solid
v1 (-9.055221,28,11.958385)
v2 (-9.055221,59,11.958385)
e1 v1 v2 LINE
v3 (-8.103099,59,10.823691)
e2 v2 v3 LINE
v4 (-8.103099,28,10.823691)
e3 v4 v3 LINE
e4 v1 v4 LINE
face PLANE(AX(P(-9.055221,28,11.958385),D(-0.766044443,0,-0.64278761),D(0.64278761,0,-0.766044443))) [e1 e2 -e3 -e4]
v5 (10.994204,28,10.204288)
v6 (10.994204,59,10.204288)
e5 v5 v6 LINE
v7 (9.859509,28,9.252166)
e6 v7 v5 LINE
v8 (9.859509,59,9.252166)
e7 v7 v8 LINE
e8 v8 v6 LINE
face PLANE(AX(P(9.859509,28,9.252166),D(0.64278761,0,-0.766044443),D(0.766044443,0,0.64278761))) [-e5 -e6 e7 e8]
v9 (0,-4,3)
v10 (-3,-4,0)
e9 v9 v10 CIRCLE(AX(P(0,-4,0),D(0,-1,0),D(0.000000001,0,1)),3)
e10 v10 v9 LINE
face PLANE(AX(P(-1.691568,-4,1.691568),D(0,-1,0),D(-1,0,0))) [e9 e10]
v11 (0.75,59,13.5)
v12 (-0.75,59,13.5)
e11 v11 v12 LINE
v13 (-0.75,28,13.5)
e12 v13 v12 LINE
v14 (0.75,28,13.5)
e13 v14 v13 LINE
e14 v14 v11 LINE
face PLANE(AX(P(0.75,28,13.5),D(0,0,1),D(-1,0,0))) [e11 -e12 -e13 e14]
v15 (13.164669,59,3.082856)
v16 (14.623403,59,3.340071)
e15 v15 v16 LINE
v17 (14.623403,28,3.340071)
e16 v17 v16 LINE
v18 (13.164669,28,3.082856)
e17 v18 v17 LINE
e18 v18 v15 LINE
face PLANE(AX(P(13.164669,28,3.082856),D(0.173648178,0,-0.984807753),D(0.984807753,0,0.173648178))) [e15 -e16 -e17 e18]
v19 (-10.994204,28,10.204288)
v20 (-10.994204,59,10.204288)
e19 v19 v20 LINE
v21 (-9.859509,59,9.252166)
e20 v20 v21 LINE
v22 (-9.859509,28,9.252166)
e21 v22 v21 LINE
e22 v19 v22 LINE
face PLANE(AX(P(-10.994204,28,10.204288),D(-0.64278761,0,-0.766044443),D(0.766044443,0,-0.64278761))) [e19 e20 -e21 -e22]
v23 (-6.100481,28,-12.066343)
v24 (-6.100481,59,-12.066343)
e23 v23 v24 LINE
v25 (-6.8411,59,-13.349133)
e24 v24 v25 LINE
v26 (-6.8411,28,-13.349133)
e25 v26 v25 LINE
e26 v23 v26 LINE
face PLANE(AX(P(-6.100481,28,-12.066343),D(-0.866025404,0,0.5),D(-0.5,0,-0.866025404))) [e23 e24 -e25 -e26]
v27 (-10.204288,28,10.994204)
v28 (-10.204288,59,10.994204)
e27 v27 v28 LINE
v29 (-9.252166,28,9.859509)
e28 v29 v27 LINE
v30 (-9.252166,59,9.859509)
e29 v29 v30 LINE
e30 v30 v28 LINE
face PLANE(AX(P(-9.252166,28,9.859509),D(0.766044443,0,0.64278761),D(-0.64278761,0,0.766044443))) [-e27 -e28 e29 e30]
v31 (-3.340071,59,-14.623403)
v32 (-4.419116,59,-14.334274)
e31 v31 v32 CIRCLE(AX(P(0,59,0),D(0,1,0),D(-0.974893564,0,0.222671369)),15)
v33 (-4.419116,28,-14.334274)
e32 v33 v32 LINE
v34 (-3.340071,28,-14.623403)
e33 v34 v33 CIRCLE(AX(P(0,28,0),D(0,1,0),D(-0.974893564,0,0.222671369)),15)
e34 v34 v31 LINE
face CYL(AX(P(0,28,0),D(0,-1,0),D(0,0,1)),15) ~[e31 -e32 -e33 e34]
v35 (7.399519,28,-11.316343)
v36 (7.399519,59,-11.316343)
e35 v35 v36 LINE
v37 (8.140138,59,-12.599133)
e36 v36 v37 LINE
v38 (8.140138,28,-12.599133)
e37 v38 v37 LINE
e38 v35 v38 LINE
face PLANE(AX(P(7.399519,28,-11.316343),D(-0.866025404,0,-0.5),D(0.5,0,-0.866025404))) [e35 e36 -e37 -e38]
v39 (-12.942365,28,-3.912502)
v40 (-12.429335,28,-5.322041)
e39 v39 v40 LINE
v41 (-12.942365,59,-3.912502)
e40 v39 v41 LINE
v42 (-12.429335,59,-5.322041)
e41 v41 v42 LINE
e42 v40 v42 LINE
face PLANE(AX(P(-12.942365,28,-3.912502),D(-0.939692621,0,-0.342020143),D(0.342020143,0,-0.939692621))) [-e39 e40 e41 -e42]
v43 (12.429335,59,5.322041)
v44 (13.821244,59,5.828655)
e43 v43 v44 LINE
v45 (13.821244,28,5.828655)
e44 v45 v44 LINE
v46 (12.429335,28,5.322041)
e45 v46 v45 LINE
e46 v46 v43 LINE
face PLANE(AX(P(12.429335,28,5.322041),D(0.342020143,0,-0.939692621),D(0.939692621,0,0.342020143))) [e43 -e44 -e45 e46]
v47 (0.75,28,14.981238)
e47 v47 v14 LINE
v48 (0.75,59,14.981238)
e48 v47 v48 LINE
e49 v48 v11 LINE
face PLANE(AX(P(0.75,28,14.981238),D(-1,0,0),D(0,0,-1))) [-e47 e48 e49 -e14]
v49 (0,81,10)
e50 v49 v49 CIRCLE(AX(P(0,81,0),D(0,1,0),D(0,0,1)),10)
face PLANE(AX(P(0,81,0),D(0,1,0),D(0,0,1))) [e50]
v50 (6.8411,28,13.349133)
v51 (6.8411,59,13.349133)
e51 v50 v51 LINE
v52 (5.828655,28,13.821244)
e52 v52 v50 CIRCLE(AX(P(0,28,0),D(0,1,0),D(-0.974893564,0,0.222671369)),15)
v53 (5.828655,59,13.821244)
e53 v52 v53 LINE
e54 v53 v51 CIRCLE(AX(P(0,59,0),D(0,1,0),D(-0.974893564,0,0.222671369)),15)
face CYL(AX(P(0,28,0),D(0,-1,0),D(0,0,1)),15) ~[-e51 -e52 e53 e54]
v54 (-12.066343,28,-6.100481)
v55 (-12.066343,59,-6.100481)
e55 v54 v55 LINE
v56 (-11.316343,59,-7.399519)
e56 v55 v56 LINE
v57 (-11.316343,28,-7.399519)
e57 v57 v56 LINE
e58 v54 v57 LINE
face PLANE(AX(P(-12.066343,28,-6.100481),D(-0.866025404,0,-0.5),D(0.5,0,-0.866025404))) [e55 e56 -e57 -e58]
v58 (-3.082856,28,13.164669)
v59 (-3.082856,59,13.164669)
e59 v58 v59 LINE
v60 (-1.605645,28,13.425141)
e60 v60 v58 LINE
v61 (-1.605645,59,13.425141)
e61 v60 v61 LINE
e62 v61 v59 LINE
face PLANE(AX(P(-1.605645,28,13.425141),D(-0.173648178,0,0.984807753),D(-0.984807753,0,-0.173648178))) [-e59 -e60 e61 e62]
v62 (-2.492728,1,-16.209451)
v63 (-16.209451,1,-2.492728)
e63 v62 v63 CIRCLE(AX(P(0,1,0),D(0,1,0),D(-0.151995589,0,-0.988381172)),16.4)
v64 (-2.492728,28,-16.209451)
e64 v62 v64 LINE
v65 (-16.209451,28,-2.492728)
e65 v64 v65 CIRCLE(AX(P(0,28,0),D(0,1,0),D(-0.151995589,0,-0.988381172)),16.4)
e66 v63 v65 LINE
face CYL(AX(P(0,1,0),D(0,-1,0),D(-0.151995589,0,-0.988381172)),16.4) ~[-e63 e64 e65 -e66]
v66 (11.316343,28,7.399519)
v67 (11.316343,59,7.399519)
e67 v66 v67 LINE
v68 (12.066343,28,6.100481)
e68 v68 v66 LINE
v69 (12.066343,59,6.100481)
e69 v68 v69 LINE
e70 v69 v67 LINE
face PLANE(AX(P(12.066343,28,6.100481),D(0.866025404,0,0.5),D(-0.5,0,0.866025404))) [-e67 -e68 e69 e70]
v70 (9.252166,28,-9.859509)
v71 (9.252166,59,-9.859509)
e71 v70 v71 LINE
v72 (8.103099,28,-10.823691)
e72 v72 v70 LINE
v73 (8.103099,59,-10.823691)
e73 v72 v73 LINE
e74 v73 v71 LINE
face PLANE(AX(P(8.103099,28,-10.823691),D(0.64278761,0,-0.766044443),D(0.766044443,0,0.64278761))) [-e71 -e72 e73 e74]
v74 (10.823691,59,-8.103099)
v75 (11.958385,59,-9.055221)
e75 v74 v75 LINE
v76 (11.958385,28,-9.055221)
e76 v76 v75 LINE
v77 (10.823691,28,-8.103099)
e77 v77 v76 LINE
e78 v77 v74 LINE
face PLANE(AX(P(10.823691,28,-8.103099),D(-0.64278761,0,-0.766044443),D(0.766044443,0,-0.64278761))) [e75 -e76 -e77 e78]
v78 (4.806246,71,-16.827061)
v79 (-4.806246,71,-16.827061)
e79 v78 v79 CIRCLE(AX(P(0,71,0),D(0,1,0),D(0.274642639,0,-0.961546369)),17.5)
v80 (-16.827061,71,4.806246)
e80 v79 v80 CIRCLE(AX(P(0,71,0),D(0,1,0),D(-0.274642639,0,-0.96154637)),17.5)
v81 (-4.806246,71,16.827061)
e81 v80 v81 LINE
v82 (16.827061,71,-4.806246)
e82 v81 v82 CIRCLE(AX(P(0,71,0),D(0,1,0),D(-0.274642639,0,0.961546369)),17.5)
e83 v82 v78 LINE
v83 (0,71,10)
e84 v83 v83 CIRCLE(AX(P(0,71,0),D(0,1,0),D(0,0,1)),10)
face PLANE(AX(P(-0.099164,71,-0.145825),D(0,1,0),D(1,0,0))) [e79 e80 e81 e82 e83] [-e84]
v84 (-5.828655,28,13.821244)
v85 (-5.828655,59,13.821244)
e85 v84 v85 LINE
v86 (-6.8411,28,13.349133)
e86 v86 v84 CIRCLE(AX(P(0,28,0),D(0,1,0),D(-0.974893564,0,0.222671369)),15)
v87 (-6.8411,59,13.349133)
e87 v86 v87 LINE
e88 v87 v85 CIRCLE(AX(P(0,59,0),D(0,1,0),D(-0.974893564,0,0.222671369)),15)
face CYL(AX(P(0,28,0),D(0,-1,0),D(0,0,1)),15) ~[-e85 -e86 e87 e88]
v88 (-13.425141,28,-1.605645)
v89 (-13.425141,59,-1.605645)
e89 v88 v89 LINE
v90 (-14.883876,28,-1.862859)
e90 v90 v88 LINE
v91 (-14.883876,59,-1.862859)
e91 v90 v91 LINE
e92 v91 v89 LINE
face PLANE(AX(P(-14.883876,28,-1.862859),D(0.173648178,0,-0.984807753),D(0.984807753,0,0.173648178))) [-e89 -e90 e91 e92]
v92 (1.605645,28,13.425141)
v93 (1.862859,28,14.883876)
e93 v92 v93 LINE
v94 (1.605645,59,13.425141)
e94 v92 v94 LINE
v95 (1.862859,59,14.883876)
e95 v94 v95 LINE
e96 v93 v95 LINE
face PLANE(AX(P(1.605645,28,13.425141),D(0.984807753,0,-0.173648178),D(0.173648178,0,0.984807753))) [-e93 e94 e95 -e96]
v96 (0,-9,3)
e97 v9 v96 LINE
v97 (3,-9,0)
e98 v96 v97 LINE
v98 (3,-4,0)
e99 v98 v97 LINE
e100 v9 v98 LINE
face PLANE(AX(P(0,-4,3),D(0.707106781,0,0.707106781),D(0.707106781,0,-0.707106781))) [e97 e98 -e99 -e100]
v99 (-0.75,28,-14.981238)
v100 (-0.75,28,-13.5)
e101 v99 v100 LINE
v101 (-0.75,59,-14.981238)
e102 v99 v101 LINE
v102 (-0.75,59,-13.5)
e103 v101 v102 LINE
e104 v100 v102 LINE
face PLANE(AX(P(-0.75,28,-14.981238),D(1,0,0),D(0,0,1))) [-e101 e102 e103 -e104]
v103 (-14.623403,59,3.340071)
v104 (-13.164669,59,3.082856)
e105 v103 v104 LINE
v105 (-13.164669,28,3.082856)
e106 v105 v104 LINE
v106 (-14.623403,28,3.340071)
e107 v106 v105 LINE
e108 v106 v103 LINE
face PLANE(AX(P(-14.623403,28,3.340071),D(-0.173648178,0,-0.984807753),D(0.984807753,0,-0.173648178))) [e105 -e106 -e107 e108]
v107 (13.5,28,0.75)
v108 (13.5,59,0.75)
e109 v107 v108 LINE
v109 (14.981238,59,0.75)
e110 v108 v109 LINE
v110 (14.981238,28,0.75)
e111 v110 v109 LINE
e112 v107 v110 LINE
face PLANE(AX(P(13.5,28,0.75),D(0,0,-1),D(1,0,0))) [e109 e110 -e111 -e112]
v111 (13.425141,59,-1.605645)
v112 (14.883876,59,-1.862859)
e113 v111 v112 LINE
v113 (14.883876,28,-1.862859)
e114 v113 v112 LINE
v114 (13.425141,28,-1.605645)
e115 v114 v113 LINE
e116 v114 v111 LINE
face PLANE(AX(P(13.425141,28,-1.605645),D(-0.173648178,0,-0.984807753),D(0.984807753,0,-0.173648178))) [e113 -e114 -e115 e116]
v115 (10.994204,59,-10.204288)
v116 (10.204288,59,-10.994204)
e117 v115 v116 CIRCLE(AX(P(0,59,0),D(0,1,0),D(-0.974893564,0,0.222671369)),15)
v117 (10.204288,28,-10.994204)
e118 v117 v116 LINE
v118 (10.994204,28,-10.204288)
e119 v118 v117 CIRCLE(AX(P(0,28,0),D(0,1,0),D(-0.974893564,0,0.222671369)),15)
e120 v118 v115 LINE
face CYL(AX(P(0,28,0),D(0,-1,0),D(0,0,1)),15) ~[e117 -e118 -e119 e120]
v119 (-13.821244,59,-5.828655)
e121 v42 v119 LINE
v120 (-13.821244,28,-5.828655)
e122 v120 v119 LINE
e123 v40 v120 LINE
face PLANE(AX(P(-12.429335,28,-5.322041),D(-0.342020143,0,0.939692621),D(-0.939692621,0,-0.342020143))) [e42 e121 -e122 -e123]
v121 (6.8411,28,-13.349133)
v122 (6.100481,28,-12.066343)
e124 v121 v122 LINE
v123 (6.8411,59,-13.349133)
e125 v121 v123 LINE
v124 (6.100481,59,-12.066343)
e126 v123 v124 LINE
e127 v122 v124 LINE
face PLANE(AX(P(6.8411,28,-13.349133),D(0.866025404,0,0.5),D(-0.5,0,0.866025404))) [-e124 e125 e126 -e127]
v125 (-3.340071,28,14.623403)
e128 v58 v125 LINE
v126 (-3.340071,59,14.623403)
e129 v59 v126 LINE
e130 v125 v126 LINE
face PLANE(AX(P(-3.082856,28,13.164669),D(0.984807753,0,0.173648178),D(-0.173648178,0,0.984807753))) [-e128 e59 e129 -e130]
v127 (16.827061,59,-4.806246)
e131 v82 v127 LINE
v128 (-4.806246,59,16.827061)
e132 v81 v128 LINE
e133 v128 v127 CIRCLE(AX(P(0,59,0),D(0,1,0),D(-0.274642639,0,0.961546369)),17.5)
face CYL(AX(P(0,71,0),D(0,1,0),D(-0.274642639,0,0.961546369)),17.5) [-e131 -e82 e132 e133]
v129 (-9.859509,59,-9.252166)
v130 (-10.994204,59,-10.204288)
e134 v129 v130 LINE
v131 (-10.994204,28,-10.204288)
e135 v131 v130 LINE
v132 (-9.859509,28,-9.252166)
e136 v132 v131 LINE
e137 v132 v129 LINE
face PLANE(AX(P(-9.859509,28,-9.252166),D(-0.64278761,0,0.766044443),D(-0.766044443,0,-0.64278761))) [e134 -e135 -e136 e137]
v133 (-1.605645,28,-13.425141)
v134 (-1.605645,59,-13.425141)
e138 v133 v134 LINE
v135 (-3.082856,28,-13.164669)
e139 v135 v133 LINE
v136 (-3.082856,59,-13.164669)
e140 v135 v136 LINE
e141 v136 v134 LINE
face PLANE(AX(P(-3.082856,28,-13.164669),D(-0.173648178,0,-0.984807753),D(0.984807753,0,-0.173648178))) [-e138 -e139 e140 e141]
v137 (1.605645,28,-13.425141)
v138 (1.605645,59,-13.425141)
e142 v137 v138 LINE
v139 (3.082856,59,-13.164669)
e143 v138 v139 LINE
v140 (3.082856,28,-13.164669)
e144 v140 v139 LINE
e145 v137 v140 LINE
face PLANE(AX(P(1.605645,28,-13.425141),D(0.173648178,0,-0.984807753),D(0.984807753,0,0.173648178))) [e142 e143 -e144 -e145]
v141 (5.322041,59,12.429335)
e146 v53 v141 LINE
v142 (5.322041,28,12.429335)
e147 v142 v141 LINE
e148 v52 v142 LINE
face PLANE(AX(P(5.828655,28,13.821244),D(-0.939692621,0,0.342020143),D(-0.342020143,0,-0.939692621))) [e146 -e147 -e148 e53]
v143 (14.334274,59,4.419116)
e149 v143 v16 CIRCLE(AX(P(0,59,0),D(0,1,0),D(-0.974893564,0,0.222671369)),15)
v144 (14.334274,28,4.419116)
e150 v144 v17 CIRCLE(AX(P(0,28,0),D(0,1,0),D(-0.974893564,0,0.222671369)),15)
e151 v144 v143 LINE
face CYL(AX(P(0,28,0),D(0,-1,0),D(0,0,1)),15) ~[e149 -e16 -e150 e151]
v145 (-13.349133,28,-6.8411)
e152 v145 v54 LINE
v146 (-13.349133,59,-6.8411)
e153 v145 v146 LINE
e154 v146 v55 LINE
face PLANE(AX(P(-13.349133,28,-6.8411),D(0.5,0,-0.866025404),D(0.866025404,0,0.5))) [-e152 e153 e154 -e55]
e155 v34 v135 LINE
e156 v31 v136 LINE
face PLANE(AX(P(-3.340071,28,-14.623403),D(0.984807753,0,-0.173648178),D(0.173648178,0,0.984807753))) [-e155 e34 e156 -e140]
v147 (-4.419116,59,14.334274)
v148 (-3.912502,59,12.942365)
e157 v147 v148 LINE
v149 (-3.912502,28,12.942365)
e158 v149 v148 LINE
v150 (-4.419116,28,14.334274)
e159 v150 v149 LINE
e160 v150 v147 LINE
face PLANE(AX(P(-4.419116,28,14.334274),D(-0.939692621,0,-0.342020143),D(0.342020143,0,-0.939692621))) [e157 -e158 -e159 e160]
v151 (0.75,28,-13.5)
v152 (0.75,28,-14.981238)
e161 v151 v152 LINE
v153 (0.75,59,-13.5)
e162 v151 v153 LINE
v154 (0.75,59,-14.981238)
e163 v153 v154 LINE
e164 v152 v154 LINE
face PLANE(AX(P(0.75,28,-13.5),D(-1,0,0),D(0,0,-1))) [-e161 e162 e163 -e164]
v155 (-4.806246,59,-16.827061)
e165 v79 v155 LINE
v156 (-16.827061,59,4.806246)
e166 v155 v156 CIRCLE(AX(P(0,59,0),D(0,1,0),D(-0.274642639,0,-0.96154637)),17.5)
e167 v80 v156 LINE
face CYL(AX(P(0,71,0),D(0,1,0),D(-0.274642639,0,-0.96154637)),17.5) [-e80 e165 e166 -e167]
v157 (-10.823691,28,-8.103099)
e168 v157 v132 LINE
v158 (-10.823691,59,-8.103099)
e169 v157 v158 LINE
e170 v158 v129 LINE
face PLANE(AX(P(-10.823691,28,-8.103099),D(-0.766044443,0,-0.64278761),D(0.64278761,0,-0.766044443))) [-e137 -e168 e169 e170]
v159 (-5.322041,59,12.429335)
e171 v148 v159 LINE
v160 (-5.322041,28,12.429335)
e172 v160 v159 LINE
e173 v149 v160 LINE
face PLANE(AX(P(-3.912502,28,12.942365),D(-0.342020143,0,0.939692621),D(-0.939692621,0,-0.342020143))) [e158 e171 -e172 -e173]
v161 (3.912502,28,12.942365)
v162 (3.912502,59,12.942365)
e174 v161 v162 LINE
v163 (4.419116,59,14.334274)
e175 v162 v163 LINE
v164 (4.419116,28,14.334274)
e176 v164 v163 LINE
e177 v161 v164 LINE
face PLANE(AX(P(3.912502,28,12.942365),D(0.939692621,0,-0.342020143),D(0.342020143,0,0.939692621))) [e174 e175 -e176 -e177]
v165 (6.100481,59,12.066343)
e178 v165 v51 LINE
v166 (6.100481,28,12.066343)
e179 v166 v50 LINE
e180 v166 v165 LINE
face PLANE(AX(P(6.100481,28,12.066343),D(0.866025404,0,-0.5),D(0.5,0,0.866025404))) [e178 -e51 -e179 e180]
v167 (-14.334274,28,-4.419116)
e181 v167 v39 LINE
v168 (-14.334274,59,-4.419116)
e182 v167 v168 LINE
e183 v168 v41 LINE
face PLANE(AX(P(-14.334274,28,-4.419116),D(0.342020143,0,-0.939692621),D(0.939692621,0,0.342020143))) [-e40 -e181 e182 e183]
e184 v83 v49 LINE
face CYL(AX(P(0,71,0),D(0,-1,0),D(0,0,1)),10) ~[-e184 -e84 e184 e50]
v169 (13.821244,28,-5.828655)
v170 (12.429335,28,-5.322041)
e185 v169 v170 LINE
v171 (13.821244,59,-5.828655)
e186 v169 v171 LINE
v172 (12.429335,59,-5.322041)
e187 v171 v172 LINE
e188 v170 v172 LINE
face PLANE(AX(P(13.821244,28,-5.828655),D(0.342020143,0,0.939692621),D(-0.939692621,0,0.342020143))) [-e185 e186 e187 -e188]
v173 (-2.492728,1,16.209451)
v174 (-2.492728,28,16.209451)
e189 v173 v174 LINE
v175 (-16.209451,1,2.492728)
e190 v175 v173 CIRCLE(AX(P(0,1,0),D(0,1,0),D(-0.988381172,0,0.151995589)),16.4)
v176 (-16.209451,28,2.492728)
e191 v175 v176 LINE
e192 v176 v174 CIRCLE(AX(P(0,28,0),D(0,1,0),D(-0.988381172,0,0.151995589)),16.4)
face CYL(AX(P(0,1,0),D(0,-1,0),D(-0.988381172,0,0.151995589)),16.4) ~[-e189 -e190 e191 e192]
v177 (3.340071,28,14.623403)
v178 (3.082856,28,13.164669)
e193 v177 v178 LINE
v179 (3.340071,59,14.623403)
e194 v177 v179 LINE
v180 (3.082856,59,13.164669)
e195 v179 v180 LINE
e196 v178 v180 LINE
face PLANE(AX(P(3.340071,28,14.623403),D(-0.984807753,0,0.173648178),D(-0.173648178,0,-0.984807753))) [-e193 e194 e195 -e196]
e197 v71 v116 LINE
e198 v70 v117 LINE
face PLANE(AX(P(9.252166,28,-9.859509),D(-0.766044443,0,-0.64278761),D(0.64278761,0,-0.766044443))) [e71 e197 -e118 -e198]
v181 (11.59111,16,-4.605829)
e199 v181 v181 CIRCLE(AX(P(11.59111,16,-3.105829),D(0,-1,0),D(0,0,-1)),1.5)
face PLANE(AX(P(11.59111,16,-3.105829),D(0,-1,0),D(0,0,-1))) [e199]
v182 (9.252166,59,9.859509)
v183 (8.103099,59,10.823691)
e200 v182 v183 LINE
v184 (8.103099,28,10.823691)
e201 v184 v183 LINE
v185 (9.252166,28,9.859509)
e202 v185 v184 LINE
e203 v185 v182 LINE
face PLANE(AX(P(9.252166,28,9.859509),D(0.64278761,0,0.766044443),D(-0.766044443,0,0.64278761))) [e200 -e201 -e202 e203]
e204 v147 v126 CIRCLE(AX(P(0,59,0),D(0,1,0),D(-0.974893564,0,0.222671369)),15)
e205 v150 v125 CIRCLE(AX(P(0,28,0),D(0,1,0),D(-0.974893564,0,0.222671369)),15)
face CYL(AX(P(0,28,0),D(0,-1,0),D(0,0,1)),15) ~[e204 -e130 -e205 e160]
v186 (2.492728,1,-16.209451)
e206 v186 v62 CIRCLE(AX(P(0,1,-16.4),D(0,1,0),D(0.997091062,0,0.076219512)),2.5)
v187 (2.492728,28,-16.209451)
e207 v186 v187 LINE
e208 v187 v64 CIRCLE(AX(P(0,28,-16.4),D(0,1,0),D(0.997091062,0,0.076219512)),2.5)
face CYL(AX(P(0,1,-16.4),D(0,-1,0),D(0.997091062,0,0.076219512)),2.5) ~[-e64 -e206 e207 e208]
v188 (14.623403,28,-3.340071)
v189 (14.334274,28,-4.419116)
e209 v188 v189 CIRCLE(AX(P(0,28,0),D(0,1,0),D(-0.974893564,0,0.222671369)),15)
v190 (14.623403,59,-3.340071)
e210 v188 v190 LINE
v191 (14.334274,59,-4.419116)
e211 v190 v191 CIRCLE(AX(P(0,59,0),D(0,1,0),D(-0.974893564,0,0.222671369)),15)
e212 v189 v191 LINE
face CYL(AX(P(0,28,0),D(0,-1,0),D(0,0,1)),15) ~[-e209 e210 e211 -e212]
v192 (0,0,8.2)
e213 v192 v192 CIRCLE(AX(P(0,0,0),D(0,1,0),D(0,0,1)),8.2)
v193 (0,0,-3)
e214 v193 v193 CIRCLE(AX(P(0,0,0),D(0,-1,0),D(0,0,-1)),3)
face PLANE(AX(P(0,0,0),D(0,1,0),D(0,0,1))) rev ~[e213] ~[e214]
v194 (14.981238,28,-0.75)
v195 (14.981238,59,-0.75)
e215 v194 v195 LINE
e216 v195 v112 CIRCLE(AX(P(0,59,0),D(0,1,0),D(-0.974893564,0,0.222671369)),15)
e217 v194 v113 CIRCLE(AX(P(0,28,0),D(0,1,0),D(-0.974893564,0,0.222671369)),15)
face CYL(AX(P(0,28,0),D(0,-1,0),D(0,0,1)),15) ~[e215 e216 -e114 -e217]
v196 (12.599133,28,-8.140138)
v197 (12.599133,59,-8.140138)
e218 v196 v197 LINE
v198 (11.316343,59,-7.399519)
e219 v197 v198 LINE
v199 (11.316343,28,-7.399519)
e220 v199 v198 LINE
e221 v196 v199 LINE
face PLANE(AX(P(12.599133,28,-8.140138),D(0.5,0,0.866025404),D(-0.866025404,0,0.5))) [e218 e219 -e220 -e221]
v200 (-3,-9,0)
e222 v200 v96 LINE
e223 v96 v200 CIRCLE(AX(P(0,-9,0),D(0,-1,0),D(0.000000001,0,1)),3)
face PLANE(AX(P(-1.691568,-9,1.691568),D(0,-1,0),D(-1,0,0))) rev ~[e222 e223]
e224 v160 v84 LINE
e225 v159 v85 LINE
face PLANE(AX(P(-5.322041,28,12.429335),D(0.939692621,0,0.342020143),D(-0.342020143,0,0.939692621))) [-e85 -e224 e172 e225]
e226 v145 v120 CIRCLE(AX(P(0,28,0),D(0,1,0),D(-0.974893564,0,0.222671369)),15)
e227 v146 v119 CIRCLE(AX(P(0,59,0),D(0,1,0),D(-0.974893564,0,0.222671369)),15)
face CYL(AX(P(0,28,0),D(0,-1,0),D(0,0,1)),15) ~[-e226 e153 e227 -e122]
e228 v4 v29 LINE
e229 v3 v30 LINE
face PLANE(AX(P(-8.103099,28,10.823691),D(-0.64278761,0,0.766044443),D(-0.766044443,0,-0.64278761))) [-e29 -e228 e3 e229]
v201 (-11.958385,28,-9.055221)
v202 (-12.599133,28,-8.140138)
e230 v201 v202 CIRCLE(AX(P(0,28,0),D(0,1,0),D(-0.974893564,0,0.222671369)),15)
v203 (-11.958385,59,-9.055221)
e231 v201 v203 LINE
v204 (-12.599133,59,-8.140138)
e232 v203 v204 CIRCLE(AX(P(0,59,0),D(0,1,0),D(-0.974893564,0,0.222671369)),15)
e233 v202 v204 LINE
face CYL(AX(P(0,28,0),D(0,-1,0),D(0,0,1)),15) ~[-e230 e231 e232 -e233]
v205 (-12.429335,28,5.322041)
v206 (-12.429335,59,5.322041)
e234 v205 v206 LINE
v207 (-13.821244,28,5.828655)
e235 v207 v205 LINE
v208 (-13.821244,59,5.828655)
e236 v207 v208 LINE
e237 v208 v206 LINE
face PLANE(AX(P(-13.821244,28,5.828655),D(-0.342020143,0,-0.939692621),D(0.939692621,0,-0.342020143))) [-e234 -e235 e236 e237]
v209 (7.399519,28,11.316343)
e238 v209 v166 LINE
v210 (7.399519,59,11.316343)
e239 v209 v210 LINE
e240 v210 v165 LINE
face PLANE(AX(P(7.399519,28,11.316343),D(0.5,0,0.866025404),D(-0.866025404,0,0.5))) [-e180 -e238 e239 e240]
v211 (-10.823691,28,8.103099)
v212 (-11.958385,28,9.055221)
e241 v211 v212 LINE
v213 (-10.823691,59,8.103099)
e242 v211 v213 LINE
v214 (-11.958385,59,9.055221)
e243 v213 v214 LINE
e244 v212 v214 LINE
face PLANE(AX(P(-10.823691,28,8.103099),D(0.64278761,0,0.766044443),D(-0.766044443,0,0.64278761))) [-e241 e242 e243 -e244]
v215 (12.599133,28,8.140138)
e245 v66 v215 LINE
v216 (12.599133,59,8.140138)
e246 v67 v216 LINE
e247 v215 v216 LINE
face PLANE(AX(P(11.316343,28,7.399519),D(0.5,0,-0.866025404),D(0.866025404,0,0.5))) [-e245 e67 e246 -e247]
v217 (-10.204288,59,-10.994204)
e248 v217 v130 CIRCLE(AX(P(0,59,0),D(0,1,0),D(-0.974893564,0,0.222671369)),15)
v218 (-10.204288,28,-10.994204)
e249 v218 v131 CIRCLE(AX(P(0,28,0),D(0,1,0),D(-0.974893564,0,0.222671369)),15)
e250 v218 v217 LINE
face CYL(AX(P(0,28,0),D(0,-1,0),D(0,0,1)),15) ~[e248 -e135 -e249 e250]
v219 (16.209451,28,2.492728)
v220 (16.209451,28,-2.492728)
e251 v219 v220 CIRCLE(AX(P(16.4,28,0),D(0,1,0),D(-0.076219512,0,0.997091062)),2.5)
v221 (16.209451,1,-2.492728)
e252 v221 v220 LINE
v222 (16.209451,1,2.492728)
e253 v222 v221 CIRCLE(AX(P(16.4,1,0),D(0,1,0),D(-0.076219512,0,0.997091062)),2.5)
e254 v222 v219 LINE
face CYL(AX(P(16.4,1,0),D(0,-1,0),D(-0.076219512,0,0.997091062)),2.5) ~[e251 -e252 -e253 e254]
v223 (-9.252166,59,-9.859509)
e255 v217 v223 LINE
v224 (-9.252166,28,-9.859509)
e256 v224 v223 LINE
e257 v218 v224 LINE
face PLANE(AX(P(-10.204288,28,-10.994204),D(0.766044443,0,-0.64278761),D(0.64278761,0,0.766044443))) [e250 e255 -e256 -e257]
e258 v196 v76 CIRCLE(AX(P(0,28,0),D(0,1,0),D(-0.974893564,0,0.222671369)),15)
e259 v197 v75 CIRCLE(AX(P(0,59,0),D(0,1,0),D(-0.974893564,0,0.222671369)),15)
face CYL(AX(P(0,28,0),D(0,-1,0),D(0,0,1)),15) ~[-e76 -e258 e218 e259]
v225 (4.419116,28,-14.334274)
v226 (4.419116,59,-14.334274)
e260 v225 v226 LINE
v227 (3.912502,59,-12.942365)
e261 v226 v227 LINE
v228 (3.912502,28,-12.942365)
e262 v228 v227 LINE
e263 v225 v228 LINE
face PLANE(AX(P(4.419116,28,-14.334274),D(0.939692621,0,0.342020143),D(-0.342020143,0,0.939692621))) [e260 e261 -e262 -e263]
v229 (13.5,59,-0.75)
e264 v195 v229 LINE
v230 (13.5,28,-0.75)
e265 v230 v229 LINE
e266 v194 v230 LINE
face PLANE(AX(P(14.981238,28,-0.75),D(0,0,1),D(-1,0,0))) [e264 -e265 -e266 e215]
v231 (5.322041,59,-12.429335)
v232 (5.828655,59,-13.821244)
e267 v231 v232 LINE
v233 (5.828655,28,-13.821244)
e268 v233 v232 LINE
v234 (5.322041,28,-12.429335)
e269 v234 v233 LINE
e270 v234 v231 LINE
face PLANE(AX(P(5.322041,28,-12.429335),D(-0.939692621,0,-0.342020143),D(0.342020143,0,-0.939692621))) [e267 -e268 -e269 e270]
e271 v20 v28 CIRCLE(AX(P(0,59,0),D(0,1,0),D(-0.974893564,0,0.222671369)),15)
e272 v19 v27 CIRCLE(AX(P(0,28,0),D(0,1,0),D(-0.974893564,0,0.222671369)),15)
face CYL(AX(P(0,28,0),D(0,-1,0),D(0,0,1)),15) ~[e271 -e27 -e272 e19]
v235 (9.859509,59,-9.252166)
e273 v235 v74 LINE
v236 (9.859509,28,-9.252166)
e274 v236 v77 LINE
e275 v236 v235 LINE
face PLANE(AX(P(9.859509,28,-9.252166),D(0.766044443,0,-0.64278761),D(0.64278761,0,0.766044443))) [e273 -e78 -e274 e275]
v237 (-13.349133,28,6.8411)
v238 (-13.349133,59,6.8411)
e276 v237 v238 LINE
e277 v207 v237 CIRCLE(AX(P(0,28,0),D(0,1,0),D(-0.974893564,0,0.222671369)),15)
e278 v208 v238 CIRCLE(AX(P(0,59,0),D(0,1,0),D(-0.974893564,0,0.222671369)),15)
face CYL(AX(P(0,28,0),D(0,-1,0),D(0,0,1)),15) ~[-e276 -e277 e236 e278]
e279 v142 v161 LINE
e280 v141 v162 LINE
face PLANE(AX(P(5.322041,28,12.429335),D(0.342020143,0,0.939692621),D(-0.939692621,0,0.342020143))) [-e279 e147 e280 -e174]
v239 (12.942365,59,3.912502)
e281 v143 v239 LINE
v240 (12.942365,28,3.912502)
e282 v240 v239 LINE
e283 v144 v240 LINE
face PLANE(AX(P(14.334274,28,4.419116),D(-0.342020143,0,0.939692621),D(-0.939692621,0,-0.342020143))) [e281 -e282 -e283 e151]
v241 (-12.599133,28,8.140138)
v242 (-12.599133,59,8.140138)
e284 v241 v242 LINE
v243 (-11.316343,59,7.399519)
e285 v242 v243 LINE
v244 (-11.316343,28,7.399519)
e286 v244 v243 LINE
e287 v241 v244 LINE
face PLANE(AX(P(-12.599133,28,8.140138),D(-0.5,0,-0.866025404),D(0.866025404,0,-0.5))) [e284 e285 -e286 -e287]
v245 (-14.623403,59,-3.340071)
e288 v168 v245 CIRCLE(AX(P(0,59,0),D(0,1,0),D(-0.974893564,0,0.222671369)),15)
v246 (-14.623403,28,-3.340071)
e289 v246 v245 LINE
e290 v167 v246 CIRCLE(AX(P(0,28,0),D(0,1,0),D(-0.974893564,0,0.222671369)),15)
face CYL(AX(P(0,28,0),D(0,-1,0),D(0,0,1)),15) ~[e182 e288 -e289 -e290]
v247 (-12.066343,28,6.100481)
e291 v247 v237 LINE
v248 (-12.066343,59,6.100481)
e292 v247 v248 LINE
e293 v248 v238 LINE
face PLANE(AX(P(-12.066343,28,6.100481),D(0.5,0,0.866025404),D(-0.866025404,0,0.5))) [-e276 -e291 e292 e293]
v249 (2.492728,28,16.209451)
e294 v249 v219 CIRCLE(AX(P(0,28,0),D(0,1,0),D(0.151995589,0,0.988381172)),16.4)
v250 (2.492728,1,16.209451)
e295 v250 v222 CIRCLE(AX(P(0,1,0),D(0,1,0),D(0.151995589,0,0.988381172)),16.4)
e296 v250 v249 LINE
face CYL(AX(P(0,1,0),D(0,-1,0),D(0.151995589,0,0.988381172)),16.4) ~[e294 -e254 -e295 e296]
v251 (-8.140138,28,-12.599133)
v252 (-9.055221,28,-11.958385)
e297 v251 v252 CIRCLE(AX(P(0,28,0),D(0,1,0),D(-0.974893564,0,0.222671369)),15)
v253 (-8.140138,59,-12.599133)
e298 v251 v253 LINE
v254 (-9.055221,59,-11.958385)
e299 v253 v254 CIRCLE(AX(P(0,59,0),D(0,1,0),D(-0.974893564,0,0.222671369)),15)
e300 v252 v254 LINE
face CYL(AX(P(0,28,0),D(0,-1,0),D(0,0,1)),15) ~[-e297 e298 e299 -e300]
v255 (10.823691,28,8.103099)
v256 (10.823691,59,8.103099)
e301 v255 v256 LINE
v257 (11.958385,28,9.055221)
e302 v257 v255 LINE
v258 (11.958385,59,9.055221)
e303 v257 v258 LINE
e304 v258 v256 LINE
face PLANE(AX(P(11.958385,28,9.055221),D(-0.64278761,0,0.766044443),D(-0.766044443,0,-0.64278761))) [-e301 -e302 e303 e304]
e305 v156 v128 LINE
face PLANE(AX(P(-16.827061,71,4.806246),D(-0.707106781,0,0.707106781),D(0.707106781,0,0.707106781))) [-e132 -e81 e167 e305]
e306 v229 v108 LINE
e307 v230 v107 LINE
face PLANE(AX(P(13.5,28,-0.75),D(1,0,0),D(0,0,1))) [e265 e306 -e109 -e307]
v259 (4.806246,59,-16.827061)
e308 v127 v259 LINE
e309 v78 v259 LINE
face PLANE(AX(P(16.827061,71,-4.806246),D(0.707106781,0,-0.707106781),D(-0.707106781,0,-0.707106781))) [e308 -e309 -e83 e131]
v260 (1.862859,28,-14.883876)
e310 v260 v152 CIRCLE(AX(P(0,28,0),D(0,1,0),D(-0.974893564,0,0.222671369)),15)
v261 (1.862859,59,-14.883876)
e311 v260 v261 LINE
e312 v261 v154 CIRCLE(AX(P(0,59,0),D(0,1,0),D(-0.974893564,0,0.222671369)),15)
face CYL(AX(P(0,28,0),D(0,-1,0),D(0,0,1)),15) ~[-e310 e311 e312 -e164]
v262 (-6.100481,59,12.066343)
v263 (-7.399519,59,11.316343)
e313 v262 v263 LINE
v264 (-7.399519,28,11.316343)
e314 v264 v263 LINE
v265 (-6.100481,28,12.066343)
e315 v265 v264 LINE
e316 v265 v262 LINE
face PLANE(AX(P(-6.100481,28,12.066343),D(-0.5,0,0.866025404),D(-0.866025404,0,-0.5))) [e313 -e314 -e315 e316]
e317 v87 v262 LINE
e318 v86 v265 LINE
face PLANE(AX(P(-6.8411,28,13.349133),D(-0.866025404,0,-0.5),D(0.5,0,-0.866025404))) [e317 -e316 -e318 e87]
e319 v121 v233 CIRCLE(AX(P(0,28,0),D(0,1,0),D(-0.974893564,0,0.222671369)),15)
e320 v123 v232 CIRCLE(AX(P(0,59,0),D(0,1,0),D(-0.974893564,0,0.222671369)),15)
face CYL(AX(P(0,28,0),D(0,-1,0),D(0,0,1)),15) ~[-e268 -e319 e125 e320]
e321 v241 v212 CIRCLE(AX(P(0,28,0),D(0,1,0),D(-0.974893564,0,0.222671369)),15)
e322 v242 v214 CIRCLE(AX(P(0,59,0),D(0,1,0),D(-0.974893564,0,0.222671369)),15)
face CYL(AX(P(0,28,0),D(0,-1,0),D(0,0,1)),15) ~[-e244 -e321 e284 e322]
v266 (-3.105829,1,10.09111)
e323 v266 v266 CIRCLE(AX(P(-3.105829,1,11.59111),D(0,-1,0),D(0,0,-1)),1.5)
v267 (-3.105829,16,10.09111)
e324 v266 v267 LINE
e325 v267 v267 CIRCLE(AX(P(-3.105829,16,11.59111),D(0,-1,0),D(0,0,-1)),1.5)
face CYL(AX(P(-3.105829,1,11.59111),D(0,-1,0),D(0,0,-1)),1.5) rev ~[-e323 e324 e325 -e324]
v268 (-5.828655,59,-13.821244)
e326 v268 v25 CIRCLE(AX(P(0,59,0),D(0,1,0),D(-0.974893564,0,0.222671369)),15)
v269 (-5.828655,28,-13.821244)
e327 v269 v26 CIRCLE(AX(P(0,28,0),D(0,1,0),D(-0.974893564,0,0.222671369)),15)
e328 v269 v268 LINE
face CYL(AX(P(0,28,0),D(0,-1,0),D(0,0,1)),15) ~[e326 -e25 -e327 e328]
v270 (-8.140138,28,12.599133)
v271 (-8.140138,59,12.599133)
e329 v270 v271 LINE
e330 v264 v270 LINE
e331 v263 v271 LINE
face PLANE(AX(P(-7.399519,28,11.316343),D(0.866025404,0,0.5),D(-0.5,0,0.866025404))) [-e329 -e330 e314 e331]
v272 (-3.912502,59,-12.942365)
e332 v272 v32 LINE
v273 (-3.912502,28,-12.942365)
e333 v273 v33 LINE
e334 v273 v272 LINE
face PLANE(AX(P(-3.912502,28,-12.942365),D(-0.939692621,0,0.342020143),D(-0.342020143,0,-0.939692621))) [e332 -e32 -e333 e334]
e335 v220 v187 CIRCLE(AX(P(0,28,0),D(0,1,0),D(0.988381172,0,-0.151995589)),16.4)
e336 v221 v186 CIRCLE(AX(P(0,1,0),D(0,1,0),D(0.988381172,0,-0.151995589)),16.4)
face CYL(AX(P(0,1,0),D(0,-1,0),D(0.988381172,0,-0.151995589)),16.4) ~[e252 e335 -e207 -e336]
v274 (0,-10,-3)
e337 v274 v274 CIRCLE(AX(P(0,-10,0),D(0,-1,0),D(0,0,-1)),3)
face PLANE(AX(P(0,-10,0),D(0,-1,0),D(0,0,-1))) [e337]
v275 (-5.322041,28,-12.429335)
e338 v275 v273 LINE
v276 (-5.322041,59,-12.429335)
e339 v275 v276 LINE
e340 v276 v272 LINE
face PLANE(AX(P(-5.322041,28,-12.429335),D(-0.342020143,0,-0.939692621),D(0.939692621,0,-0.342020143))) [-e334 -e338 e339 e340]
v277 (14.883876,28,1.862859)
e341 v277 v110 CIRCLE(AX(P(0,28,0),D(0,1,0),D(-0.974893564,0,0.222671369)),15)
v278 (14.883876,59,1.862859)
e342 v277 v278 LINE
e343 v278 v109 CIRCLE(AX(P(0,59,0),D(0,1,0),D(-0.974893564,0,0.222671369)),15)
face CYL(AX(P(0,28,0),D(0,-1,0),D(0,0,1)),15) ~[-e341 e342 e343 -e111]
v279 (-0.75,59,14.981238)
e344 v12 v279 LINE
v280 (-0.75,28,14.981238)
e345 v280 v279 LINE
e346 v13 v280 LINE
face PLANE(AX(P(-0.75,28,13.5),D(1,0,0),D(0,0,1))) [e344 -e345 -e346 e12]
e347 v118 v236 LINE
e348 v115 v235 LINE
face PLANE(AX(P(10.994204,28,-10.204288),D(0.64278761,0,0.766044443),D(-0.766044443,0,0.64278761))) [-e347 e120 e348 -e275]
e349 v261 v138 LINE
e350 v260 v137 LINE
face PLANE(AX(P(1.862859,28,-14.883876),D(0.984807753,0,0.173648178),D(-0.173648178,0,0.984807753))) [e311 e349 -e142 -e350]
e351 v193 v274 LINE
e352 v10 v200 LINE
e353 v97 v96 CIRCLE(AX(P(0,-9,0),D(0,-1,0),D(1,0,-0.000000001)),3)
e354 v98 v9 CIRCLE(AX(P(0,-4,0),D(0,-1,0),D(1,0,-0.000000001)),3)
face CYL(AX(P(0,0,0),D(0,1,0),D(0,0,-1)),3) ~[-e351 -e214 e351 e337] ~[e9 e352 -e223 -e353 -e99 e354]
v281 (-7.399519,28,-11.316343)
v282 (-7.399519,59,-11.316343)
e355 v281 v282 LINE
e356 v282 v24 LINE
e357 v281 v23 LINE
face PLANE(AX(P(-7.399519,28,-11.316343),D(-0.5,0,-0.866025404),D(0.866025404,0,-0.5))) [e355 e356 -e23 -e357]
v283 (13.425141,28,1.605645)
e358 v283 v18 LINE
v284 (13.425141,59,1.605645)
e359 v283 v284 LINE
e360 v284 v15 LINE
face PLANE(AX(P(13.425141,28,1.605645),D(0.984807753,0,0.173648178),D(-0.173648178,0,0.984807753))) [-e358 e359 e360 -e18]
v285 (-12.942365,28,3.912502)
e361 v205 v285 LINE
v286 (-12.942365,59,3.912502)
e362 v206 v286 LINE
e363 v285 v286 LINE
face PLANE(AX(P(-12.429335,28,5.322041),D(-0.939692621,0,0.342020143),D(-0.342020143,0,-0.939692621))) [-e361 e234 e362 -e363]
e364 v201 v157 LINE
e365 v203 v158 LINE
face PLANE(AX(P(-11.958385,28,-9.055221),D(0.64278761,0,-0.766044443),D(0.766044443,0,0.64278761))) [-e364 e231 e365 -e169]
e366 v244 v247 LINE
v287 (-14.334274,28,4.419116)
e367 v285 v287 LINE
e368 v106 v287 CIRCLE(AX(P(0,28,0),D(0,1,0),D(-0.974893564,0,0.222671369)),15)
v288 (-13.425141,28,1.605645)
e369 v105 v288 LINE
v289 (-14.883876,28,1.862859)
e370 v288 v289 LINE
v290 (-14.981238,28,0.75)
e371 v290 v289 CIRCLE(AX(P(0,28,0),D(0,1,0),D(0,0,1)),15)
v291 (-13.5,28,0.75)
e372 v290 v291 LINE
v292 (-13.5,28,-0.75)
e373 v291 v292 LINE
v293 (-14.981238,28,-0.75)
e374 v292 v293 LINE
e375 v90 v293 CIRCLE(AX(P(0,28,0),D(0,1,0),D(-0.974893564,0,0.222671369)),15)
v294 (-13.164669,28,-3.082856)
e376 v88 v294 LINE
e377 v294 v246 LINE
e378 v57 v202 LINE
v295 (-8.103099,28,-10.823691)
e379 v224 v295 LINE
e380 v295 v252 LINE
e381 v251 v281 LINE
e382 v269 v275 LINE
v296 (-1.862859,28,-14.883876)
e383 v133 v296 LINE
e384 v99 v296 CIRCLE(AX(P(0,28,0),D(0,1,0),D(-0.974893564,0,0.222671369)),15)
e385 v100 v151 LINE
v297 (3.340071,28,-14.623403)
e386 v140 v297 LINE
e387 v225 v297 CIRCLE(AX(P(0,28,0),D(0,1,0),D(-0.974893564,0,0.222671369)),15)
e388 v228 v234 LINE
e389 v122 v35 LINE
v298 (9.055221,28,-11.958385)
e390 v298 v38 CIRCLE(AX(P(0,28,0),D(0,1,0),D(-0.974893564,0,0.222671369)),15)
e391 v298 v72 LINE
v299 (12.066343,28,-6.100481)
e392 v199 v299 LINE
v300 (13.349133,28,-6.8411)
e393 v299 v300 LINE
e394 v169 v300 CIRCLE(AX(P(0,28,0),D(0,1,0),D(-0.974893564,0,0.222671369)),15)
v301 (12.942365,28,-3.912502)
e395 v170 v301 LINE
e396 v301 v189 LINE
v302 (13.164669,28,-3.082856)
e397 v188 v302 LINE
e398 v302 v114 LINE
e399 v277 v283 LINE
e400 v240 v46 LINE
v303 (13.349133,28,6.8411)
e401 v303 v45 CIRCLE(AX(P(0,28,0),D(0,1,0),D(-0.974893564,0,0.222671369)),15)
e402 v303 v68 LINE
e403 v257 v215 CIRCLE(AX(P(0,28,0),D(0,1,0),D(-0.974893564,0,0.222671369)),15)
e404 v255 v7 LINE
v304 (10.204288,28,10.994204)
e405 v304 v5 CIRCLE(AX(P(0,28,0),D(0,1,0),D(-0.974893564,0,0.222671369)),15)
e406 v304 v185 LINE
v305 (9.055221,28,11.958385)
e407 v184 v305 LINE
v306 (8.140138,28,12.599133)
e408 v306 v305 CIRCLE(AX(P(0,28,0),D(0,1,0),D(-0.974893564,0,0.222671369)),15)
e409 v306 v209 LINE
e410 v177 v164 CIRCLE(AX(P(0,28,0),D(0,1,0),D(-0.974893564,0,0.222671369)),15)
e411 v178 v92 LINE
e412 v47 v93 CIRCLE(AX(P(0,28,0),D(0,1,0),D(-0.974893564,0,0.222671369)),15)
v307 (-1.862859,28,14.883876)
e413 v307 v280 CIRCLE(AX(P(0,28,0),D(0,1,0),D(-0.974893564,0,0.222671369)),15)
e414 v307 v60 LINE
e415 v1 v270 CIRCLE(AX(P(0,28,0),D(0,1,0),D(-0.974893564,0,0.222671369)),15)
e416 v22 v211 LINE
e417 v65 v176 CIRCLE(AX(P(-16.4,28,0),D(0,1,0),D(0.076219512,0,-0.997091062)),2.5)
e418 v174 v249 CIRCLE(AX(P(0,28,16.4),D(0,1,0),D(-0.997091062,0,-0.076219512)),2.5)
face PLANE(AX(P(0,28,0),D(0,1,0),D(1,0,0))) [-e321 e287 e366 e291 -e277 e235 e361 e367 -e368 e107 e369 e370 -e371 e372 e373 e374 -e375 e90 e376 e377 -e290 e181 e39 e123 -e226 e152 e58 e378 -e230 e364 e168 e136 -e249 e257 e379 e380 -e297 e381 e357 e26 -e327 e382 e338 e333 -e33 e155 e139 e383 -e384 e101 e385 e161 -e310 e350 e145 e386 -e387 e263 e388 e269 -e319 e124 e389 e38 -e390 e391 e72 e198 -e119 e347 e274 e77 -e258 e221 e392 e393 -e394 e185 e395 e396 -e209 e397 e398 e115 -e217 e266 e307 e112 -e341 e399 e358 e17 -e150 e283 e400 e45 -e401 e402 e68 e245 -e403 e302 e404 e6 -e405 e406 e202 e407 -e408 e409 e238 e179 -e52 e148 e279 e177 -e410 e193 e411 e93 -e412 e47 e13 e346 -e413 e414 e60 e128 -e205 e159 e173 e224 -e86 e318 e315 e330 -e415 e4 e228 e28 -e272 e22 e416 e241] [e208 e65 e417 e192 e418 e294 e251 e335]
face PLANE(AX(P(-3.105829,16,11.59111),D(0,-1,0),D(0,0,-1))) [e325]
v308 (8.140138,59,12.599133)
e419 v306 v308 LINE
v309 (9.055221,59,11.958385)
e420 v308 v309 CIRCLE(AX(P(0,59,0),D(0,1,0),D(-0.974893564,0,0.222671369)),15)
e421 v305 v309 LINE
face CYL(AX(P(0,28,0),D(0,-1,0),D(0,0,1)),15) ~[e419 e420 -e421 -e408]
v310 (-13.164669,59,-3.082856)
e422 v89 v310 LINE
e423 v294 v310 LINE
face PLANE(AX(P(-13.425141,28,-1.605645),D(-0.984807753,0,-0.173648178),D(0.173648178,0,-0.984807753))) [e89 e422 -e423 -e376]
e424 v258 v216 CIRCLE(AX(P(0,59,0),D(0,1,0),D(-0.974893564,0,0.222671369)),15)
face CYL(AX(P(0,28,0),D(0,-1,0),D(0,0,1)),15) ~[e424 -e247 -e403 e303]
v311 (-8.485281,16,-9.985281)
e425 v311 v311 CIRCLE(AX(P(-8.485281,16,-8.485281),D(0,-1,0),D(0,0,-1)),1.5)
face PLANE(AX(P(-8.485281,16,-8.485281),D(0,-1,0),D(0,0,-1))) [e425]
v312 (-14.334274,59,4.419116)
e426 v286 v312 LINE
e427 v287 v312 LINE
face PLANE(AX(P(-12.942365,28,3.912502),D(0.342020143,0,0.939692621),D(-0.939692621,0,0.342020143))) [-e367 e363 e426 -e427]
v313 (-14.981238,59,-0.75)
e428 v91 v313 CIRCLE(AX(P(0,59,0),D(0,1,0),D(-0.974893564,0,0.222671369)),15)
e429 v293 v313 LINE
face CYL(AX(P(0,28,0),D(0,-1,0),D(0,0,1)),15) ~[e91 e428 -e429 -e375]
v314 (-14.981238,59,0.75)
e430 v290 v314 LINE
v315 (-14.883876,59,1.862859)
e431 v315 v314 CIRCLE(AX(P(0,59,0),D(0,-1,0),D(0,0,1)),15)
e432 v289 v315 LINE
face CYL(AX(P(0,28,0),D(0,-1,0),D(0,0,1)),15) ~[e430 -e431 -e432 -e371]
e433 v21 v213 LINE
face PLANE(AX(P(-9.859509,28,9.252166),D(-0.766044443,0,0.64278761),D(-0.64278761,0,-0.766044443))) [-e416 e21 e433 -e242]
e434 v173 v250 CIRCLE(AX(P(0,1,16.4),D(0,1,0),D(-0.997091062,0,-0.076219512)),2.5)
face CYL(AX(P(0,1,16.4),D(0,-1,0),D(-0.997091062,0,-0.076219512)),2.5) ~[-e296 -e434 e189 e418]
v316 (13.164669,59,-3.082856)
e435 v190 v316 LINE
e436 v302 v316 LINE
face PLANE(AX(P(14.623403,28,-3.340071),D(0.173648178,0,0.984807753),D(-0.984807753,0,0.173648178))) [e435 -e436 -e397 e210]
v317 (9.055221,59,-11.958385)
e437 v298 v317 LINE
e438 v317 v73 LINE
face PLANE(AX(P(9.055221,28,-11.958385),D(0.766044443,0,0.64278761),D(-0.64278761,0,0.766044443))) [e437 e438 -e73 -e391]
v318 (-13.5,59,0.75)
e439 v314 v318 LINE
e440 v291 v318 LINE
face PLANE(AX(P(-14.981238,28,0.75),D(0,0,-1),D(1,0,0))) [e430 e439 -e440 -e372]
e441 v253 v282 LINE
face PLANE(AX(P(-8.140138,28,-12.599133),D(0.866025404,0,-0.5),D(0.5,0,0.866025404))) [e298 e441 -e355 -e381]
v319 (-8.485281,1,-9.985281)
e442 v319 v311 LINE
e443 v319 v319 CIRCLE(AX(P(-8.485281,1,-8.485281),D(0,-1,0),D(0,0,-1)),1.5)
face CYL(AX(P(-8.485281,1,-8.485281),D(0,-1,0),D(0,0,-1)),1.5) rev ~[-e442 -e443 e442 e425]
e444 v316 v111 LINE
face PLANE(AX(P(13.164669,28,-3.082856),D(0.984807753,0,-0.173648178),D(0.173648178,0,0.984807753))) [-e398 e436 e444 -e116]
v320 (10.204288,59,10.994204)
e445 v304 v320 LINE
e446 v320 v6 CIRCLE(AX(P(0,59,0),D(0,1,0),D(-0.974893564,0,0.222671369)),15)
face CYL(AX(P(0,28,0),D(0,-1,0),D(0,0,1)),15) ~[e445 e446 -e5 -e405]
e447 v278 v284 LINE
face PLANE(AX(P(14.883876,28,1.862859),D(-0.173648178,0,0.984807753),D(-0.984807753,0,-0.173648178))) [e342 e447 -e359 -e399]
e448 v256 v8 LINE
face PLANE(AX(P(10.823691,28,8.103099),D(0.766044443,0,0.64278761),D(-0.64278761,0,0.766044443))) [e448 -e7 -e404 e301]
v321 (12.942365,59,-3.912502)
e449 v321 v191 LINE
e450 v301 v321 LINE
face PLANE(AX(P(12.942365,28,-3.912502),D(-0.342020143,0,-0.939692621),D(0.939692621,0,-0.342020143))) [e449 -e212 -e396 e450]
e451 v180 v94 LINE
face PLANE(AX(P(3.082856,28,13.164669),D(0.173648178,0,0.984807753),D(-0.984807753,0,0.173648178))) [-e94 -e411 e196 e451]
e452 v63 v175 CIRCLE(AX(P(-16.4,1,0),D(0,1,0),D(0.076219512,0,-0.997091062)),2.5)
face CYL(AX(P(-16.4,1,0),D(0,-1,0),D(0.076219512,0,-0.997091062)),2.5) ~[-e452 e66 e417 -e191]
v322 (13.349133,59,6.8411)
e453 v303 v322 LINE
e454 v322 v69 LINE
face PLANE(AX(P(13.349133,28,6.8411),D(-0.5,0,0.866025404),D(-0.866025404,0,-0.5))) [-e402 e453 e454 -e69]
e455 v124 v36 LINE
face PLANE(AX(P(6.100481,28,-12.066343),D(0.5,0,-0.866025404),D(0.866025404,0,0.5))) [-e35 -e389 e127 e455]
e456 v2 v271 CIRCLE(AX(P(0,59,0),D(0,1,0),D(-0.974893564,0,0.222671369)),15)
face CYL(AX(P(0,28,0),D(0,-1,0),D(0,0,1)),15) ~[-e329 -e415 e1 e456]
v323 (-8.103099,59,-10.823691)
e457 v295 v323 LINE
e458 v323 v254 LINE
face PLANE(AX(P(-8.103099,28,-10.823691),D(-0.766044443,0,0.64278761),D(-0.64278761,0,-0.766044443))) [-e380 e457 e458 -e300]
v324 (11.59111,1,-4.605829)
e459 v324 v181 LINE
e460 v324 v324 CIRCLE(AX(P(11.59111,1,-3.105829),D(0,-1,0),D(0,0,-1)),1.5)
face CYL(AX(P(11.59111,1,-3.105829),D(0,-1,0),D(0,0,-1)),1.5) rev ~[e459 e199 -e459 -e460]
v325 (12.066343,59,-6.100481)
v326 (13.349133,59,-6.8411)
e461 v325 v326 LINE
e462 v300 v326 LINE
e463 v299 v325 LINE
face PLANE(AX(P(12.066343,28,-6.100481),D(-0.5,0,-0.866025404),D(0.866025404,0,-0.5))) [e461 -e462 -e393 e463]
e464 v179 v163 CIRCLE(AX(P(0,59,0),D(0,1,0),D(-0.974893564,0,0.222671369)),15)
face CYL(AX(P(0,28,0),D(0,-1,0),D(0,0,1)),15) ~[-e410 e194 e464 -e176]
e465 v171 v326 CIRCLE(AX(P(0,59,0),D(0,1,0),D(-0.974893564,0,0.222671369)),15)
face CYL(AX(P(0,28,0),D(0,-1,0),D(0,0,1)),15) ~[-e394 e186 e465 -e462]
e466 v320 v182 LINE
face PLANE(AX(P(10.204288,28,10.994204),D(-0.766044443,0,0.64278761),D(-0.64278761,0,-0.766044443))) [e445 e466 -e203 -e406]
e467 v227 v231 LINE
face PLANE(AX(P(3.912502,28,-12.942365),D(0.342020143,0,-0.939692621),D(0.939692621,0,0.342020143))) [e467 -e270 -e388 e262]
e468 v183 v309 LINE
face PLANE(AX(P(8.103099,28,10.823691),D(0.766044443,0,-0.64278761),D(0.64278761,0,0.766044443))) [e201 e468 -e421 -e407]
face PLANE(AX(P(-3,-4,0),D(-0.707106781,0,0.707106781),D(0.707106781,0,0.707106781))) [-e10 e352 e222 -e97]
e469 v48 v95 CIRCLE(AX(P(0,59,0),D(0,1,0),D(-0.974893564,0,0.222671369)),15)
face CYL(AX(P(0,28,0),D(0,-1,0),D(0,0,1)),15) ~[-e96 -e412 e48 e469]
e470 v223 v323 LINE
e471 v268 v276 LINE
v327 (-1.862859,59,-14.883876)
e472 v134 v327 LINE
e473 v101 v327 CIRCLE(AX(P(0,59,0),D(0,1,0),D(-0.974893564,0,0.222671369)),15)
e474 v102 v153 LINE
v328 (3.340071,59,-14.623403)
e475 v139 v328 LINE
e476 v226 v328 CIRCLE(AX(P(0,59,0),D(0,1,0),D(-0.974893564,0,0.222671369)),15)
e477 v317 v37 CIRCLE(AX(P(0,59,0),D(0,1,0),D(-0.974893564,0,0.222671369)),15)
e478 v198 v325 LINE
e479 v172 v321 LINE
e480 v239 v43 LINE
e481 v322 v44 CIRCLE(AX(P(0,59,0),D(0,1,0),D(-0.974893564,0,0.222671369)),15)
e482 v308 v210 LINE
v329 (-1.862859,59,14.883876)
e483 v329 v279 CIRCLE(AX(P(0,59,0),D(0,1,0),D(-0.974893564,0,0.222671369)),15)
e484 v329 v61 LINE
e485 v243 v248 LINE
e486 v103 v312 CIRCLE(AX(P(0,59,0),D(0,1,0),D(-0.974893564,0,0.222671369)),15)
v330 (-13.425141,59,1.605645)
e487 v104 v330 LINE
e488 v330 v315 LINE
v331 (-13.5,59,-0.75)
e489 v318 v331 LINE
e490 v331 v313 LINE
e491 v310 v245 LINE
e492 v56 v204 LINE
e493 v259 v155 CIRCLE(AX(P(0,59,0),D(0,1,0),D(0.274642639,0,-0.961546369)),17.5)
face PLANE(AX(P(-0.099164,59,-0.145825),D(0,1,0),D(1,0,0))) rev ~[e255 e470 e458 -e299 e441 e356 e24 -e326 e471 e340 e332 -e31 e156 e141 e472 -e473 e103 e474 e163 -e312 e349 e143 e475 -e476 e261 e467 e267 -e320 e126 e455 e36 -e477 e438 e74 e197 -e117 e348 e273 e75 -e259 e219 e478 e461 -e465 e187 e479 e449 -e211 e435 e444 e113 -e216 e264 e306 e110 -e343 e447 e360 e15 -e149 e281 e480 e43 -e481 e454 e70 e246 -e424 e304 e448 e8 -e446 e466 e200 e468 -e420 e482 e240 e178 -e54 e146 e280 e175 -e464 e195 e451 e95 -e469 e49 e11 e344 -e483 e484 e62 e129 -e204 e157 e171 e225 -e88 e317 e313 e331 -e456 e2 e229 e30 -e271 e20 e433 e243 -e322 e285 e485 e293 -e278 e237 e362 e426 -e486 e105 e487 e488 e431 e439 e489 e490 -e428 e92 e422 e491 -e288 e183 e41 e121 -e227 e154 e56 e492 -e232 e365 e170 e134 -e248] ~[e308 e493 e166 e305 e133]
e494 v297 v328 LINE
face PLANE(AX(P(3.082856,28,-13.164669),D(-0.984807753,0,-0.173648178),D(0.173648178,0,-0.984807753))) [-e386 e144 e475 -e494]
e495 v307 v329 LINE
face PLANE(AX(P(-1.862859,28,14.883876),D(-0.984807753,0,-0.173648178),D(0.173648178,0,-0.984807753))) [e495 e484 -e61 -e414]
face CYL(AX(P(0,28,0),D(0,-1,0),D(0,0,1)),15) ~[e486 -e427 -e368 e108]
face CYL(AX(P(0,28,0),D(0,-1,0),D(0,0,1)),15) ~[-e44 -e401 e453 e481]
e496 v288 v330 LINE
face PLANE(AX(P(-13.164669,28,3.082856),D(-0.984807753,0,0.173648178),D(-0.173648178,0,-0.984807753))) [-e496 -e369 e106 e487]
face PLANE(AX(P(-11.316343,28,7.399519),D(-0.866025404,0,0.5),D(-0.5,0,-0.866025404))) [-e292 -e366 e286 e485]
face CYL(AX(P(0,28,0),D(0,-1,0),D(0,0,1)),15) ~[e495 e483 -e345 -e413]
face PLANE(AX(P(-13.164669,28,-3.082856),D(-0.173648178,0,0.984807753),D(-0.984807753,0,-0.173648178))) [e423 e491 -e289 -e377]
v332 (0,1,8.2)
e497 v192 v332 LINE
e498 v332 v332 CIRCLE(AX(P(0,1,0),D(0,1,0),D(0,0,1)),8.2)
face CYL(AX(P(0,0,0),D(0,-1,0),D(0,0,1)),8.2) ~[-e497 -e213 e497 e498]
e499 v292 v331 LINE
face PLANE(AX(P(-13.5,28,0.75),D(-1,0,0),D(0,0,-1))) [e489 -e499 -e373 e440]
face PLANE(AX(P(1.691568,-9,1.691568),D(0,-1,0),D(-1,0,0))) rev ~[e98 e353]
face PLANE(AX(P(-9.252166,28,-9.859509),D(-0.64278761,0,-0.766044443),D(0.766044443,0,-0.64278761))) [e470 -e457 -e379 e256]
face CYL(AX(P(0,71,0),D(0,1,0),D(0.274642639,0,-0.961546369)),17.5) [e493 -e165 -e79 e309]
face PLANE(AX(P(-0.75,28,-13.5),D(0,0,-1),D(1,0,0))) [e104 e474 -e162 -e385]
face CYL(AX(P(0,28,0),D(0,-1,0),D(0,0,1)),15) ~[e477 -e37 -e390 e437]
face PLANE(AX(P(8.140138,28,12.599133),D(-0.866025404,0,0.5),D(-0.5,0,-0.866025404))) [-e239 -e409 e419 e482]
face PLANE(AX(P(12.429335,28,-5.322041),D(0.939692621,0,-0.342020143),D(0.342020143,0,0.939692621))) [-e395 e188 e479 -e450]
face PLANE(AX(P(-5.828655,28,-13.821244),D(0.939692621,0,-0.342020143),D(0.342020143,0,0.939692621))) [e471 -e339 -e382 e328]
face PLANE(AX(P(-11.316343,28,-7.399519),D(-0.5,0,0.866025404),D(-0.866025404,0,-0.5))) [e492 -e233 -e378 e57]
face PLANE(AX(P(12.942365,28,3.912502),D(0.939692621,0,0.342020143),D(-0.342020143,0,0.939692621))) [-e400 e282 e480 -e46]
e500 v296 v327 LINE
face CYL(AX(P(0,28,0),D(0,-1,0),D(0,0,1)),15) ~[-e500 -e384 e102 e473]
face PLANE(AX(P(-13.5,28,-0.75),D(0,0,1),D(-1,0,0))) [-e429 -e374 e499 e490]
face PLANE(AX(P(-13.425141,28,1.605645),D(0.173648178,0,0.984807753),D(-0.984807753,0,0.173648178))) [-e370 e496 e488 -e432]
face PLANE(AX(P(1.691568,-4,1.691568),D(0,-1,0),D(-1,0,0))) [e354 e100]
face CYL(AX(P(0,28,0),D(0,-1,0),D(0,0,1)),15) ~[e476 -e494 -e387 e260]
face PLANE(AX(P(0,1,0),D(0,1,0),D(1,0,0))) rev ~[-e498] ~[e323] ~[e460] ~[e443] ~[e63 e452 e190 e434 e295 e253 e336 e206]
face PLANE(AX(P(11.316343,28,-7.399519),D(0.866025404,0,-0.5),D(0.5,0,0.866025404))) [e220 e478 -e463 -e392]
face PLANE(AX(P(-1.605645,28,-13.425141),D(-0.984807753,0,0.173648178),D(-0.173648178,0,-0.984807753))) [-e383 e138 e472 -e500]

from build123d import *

# Parameters (mm, degrees)
SKETCH_1_R               = 8.2
EXTRUDE_1_DEPTH          = 1
EXTRUDE_2_DEPTH          = 27
SKETCH_3_R               = 15
EXTRUDE_4_DEPTH          = 43
SKETCH_4_R               = 10
EXTRUDE_5_DEPTH          = 10
EXTRUDE_6_DEPTH          = 12
CUT_EXTRUDE_1_DEPTH      = 31
PATTERN_CIRCULAR_1_COUNT = 36
SKETCH_7_R               = 3
EXTRUDE_7_DEPTH          = 10
CUT_EXTRUDE_START        = -5
CUT_EXTRUDE_2_DEPTH      = 5
SKETCH_10_R              = 1.5
CUT_EXTRUDE_3_DEPTH      = 15


with BuildPart() as part:
    # 草图1 → 凸台-拉伸1 (new body)
    with BuildSketch(Plane(origin=(0, 0, 0), x_dir=(1, 0, 0), z_dir=(0, 1, 0))):
        with Locations(Location((0, 0, 0), (0, 0, 270))):
            Circle(SKETCH_1_R)
    extrude(amount=EXTRUDE_1_DEPTH)

    # 草图2 → 凸台-拉伸2 (add)
    with BuildSketch(Plane(origin=(0, 1, 0), x_dir=(1, 0, 0), z_dir=(0, 1, 0))):
        with BuildLine():
            ThreePointArc((16.20945122, -2.492727655), (18.9, 0), (16.20945122, 2.492727655))
            ThreePointArc((16.20945122, 2.492727655), (11.596551211, 11.596551211), (2.492727655, 16.20945122))
            ThreePointArc((2.492727655, 16.20945122), (0, 18.9), (-2.492727655, 16.20945122))
            ThreePointArc((-2.492727655, 16.20945122), (-11.596551211, 11.596551211), (-16.20945122, 2.492727655))
            ThreePointArc((-16.20945122, 2.492727655), (-18.9, 0), (-16.20945122, -2.492727655))
            ThreePointArc((-16.20945122, -2.492727655), (-11.596551211, -11.596551211), (-2.492727655, -16.20945122))
            ThreePointArc((-2.492727655, -16.20945122), (0, -18.9), (2.492727655, -16.20945122))
            ThreePointArc((2.492727655, -16.20945122), (11.596551211, -11.596551211), (16.20945122, -2.492727655))
        make_face()
    extrude(amount=EXTRUDE_2_DEPTH)

    # 草图3 → 凸台-拉伸4 (add)
    with BuildSketch(Plane(origin=(0, 28, 0), x_dir=(1, 0, 0), z_dir=(0, 1, 0))):
        with Locations(Location((0, 0, 0), (0, 0, 270))):
            Circle(SKETCH_3_R)
    extrude(amount=EXTRUDE_4_DEPTH)

    # 草图4 → 凸台-拉伸5 (add)
    with BuildSketch(Plane(origin=(0, 71, 0), x_dir=(1, 0, 0), z_dir=(0, 1, 0))):
        with Locations(Location((0, 0, 0), (0, 0, 270))):
            Circle(SKETCH_4_R)
    extrude(amount=EXTRUDE_5_DEPTH)

    # 草图5 → 凸台-拉伸6 (add)
    with BuildSketch(Plane(origin=(0, 71, 0), x_dir=(1, 0, 0), z_dir=(0, 1, 0))):
        with BuildLine():
            Line((-16.827061466, -4.806246186), (-4.806246186, -16.827061466))
            ThreePointArc((-4.806246186, -16.827061466), (12.374368671, -12.374368671), (16.827061466, 4.806246186))
            Line((16.827061466, 4.806246186), (4.806246186, 16.827061466))
            ThreePointArc((4.806246186, 16.827061466), (0, 17.5), (-4.806246186, 16.827061466))
            ThreePointArc((-4.806246186, 16.827061466), (-15.297058541, 8.5), (-16.827061466, -4.806246186))
        make_face()
    extrude(amount=-EXTRUDE_6_DEPTH)

    # 草图6 → 切除-拉伸1 (cut)
    with BuildSketch(Plane(origin=(0, 28, 0), x_dir=(1, 0, 0), z_dir=(0, 1, 0))):
        with BuildLine():
            ThreePointArc((-14.981238267, 0.75), (-15, 0), (-14.981238267, -0.75))
            Line((-14.981238267, -0.75), (-13.5, -0.75))
            Line((-13.5, -0.75), (-13.5, 0.75))
            Line((-13.5, 0.75), (-14.981238267, 0.75))
        make_face()
    cut_extrude_1 = extrude(amount=CUT_EXTRUDE_1_DEPTH, mode=Mode.SUBTRACT)

    # 阵列(圆周)1: 切除-拉伸1 ×36 about axis
    pattern_circular_1_axis = Axis((0, 0, 0), (0, 1, 0))
    for i in range(1, PATTERN_CIRCULAR_1_COUNT):
        add(cut_extrude_1.rotate(pattern_circular_1_axis, i * 360 / PATTERN_CIRCULAR_1_COUNT), mode=Mode.SUBTRACT)

    # 草图7 → 凸台-拉伸7 (add)
    with BuildSketch(Plane.XZ):
        with Locations(Location((0, 0, 0), (0, 0, 270))):
            Circle(SKETCH_7_R)
    extrude(amount=EXTRUDE_7_DEPTH)

    # 草图9 → 切除-拉伸2 (cut)
    with BuildSketch(Plane(origin=(0, -9, 0), x_dir=(-1, 0, 0), z_dir=(0, -1, 0)).offset(CUT_EXTRUDE_START)):
        with BuildLine():
            ThreePointArc((-3, 0), (-2.121320344, -2.121320344), (0, -3))
            Line((0, -3), (-3, 0))
        make_face()
        with BuildLine():
            ThreePointArc((0, -3), (2.121320344, -2.121320344), (3, 0))
            Line((3, 0), (0, -3))
        make_face()
    extrude(amount=CUT_EXTRUDE_2_DEPTH, mode=Mode.SUBTRACT)

    # 草图10 → 切除-拉伸3 (cut)
    with BuildSketch(Plane.XZ.offset(-1)):
        with Locations(Location((-8.485281374, -8.485281374, 0), (0, 0, 270))):
            Circle(SKETCH_10_R)
        with Locations(Location((-3.105828541, 11.591109915, 0), (0, 0, 270))):
            Circle(SKETCH_10_R)
        with Locations(Location((11.591109915, -3.105828541, 0), (0, 0, 270))):
            Circle(SKETCH_10_R)
    extrude(amount=-CUT_EXTRUDE_3_DEPTH, mode=Mode.SUBTRACT)


solid = part.part
